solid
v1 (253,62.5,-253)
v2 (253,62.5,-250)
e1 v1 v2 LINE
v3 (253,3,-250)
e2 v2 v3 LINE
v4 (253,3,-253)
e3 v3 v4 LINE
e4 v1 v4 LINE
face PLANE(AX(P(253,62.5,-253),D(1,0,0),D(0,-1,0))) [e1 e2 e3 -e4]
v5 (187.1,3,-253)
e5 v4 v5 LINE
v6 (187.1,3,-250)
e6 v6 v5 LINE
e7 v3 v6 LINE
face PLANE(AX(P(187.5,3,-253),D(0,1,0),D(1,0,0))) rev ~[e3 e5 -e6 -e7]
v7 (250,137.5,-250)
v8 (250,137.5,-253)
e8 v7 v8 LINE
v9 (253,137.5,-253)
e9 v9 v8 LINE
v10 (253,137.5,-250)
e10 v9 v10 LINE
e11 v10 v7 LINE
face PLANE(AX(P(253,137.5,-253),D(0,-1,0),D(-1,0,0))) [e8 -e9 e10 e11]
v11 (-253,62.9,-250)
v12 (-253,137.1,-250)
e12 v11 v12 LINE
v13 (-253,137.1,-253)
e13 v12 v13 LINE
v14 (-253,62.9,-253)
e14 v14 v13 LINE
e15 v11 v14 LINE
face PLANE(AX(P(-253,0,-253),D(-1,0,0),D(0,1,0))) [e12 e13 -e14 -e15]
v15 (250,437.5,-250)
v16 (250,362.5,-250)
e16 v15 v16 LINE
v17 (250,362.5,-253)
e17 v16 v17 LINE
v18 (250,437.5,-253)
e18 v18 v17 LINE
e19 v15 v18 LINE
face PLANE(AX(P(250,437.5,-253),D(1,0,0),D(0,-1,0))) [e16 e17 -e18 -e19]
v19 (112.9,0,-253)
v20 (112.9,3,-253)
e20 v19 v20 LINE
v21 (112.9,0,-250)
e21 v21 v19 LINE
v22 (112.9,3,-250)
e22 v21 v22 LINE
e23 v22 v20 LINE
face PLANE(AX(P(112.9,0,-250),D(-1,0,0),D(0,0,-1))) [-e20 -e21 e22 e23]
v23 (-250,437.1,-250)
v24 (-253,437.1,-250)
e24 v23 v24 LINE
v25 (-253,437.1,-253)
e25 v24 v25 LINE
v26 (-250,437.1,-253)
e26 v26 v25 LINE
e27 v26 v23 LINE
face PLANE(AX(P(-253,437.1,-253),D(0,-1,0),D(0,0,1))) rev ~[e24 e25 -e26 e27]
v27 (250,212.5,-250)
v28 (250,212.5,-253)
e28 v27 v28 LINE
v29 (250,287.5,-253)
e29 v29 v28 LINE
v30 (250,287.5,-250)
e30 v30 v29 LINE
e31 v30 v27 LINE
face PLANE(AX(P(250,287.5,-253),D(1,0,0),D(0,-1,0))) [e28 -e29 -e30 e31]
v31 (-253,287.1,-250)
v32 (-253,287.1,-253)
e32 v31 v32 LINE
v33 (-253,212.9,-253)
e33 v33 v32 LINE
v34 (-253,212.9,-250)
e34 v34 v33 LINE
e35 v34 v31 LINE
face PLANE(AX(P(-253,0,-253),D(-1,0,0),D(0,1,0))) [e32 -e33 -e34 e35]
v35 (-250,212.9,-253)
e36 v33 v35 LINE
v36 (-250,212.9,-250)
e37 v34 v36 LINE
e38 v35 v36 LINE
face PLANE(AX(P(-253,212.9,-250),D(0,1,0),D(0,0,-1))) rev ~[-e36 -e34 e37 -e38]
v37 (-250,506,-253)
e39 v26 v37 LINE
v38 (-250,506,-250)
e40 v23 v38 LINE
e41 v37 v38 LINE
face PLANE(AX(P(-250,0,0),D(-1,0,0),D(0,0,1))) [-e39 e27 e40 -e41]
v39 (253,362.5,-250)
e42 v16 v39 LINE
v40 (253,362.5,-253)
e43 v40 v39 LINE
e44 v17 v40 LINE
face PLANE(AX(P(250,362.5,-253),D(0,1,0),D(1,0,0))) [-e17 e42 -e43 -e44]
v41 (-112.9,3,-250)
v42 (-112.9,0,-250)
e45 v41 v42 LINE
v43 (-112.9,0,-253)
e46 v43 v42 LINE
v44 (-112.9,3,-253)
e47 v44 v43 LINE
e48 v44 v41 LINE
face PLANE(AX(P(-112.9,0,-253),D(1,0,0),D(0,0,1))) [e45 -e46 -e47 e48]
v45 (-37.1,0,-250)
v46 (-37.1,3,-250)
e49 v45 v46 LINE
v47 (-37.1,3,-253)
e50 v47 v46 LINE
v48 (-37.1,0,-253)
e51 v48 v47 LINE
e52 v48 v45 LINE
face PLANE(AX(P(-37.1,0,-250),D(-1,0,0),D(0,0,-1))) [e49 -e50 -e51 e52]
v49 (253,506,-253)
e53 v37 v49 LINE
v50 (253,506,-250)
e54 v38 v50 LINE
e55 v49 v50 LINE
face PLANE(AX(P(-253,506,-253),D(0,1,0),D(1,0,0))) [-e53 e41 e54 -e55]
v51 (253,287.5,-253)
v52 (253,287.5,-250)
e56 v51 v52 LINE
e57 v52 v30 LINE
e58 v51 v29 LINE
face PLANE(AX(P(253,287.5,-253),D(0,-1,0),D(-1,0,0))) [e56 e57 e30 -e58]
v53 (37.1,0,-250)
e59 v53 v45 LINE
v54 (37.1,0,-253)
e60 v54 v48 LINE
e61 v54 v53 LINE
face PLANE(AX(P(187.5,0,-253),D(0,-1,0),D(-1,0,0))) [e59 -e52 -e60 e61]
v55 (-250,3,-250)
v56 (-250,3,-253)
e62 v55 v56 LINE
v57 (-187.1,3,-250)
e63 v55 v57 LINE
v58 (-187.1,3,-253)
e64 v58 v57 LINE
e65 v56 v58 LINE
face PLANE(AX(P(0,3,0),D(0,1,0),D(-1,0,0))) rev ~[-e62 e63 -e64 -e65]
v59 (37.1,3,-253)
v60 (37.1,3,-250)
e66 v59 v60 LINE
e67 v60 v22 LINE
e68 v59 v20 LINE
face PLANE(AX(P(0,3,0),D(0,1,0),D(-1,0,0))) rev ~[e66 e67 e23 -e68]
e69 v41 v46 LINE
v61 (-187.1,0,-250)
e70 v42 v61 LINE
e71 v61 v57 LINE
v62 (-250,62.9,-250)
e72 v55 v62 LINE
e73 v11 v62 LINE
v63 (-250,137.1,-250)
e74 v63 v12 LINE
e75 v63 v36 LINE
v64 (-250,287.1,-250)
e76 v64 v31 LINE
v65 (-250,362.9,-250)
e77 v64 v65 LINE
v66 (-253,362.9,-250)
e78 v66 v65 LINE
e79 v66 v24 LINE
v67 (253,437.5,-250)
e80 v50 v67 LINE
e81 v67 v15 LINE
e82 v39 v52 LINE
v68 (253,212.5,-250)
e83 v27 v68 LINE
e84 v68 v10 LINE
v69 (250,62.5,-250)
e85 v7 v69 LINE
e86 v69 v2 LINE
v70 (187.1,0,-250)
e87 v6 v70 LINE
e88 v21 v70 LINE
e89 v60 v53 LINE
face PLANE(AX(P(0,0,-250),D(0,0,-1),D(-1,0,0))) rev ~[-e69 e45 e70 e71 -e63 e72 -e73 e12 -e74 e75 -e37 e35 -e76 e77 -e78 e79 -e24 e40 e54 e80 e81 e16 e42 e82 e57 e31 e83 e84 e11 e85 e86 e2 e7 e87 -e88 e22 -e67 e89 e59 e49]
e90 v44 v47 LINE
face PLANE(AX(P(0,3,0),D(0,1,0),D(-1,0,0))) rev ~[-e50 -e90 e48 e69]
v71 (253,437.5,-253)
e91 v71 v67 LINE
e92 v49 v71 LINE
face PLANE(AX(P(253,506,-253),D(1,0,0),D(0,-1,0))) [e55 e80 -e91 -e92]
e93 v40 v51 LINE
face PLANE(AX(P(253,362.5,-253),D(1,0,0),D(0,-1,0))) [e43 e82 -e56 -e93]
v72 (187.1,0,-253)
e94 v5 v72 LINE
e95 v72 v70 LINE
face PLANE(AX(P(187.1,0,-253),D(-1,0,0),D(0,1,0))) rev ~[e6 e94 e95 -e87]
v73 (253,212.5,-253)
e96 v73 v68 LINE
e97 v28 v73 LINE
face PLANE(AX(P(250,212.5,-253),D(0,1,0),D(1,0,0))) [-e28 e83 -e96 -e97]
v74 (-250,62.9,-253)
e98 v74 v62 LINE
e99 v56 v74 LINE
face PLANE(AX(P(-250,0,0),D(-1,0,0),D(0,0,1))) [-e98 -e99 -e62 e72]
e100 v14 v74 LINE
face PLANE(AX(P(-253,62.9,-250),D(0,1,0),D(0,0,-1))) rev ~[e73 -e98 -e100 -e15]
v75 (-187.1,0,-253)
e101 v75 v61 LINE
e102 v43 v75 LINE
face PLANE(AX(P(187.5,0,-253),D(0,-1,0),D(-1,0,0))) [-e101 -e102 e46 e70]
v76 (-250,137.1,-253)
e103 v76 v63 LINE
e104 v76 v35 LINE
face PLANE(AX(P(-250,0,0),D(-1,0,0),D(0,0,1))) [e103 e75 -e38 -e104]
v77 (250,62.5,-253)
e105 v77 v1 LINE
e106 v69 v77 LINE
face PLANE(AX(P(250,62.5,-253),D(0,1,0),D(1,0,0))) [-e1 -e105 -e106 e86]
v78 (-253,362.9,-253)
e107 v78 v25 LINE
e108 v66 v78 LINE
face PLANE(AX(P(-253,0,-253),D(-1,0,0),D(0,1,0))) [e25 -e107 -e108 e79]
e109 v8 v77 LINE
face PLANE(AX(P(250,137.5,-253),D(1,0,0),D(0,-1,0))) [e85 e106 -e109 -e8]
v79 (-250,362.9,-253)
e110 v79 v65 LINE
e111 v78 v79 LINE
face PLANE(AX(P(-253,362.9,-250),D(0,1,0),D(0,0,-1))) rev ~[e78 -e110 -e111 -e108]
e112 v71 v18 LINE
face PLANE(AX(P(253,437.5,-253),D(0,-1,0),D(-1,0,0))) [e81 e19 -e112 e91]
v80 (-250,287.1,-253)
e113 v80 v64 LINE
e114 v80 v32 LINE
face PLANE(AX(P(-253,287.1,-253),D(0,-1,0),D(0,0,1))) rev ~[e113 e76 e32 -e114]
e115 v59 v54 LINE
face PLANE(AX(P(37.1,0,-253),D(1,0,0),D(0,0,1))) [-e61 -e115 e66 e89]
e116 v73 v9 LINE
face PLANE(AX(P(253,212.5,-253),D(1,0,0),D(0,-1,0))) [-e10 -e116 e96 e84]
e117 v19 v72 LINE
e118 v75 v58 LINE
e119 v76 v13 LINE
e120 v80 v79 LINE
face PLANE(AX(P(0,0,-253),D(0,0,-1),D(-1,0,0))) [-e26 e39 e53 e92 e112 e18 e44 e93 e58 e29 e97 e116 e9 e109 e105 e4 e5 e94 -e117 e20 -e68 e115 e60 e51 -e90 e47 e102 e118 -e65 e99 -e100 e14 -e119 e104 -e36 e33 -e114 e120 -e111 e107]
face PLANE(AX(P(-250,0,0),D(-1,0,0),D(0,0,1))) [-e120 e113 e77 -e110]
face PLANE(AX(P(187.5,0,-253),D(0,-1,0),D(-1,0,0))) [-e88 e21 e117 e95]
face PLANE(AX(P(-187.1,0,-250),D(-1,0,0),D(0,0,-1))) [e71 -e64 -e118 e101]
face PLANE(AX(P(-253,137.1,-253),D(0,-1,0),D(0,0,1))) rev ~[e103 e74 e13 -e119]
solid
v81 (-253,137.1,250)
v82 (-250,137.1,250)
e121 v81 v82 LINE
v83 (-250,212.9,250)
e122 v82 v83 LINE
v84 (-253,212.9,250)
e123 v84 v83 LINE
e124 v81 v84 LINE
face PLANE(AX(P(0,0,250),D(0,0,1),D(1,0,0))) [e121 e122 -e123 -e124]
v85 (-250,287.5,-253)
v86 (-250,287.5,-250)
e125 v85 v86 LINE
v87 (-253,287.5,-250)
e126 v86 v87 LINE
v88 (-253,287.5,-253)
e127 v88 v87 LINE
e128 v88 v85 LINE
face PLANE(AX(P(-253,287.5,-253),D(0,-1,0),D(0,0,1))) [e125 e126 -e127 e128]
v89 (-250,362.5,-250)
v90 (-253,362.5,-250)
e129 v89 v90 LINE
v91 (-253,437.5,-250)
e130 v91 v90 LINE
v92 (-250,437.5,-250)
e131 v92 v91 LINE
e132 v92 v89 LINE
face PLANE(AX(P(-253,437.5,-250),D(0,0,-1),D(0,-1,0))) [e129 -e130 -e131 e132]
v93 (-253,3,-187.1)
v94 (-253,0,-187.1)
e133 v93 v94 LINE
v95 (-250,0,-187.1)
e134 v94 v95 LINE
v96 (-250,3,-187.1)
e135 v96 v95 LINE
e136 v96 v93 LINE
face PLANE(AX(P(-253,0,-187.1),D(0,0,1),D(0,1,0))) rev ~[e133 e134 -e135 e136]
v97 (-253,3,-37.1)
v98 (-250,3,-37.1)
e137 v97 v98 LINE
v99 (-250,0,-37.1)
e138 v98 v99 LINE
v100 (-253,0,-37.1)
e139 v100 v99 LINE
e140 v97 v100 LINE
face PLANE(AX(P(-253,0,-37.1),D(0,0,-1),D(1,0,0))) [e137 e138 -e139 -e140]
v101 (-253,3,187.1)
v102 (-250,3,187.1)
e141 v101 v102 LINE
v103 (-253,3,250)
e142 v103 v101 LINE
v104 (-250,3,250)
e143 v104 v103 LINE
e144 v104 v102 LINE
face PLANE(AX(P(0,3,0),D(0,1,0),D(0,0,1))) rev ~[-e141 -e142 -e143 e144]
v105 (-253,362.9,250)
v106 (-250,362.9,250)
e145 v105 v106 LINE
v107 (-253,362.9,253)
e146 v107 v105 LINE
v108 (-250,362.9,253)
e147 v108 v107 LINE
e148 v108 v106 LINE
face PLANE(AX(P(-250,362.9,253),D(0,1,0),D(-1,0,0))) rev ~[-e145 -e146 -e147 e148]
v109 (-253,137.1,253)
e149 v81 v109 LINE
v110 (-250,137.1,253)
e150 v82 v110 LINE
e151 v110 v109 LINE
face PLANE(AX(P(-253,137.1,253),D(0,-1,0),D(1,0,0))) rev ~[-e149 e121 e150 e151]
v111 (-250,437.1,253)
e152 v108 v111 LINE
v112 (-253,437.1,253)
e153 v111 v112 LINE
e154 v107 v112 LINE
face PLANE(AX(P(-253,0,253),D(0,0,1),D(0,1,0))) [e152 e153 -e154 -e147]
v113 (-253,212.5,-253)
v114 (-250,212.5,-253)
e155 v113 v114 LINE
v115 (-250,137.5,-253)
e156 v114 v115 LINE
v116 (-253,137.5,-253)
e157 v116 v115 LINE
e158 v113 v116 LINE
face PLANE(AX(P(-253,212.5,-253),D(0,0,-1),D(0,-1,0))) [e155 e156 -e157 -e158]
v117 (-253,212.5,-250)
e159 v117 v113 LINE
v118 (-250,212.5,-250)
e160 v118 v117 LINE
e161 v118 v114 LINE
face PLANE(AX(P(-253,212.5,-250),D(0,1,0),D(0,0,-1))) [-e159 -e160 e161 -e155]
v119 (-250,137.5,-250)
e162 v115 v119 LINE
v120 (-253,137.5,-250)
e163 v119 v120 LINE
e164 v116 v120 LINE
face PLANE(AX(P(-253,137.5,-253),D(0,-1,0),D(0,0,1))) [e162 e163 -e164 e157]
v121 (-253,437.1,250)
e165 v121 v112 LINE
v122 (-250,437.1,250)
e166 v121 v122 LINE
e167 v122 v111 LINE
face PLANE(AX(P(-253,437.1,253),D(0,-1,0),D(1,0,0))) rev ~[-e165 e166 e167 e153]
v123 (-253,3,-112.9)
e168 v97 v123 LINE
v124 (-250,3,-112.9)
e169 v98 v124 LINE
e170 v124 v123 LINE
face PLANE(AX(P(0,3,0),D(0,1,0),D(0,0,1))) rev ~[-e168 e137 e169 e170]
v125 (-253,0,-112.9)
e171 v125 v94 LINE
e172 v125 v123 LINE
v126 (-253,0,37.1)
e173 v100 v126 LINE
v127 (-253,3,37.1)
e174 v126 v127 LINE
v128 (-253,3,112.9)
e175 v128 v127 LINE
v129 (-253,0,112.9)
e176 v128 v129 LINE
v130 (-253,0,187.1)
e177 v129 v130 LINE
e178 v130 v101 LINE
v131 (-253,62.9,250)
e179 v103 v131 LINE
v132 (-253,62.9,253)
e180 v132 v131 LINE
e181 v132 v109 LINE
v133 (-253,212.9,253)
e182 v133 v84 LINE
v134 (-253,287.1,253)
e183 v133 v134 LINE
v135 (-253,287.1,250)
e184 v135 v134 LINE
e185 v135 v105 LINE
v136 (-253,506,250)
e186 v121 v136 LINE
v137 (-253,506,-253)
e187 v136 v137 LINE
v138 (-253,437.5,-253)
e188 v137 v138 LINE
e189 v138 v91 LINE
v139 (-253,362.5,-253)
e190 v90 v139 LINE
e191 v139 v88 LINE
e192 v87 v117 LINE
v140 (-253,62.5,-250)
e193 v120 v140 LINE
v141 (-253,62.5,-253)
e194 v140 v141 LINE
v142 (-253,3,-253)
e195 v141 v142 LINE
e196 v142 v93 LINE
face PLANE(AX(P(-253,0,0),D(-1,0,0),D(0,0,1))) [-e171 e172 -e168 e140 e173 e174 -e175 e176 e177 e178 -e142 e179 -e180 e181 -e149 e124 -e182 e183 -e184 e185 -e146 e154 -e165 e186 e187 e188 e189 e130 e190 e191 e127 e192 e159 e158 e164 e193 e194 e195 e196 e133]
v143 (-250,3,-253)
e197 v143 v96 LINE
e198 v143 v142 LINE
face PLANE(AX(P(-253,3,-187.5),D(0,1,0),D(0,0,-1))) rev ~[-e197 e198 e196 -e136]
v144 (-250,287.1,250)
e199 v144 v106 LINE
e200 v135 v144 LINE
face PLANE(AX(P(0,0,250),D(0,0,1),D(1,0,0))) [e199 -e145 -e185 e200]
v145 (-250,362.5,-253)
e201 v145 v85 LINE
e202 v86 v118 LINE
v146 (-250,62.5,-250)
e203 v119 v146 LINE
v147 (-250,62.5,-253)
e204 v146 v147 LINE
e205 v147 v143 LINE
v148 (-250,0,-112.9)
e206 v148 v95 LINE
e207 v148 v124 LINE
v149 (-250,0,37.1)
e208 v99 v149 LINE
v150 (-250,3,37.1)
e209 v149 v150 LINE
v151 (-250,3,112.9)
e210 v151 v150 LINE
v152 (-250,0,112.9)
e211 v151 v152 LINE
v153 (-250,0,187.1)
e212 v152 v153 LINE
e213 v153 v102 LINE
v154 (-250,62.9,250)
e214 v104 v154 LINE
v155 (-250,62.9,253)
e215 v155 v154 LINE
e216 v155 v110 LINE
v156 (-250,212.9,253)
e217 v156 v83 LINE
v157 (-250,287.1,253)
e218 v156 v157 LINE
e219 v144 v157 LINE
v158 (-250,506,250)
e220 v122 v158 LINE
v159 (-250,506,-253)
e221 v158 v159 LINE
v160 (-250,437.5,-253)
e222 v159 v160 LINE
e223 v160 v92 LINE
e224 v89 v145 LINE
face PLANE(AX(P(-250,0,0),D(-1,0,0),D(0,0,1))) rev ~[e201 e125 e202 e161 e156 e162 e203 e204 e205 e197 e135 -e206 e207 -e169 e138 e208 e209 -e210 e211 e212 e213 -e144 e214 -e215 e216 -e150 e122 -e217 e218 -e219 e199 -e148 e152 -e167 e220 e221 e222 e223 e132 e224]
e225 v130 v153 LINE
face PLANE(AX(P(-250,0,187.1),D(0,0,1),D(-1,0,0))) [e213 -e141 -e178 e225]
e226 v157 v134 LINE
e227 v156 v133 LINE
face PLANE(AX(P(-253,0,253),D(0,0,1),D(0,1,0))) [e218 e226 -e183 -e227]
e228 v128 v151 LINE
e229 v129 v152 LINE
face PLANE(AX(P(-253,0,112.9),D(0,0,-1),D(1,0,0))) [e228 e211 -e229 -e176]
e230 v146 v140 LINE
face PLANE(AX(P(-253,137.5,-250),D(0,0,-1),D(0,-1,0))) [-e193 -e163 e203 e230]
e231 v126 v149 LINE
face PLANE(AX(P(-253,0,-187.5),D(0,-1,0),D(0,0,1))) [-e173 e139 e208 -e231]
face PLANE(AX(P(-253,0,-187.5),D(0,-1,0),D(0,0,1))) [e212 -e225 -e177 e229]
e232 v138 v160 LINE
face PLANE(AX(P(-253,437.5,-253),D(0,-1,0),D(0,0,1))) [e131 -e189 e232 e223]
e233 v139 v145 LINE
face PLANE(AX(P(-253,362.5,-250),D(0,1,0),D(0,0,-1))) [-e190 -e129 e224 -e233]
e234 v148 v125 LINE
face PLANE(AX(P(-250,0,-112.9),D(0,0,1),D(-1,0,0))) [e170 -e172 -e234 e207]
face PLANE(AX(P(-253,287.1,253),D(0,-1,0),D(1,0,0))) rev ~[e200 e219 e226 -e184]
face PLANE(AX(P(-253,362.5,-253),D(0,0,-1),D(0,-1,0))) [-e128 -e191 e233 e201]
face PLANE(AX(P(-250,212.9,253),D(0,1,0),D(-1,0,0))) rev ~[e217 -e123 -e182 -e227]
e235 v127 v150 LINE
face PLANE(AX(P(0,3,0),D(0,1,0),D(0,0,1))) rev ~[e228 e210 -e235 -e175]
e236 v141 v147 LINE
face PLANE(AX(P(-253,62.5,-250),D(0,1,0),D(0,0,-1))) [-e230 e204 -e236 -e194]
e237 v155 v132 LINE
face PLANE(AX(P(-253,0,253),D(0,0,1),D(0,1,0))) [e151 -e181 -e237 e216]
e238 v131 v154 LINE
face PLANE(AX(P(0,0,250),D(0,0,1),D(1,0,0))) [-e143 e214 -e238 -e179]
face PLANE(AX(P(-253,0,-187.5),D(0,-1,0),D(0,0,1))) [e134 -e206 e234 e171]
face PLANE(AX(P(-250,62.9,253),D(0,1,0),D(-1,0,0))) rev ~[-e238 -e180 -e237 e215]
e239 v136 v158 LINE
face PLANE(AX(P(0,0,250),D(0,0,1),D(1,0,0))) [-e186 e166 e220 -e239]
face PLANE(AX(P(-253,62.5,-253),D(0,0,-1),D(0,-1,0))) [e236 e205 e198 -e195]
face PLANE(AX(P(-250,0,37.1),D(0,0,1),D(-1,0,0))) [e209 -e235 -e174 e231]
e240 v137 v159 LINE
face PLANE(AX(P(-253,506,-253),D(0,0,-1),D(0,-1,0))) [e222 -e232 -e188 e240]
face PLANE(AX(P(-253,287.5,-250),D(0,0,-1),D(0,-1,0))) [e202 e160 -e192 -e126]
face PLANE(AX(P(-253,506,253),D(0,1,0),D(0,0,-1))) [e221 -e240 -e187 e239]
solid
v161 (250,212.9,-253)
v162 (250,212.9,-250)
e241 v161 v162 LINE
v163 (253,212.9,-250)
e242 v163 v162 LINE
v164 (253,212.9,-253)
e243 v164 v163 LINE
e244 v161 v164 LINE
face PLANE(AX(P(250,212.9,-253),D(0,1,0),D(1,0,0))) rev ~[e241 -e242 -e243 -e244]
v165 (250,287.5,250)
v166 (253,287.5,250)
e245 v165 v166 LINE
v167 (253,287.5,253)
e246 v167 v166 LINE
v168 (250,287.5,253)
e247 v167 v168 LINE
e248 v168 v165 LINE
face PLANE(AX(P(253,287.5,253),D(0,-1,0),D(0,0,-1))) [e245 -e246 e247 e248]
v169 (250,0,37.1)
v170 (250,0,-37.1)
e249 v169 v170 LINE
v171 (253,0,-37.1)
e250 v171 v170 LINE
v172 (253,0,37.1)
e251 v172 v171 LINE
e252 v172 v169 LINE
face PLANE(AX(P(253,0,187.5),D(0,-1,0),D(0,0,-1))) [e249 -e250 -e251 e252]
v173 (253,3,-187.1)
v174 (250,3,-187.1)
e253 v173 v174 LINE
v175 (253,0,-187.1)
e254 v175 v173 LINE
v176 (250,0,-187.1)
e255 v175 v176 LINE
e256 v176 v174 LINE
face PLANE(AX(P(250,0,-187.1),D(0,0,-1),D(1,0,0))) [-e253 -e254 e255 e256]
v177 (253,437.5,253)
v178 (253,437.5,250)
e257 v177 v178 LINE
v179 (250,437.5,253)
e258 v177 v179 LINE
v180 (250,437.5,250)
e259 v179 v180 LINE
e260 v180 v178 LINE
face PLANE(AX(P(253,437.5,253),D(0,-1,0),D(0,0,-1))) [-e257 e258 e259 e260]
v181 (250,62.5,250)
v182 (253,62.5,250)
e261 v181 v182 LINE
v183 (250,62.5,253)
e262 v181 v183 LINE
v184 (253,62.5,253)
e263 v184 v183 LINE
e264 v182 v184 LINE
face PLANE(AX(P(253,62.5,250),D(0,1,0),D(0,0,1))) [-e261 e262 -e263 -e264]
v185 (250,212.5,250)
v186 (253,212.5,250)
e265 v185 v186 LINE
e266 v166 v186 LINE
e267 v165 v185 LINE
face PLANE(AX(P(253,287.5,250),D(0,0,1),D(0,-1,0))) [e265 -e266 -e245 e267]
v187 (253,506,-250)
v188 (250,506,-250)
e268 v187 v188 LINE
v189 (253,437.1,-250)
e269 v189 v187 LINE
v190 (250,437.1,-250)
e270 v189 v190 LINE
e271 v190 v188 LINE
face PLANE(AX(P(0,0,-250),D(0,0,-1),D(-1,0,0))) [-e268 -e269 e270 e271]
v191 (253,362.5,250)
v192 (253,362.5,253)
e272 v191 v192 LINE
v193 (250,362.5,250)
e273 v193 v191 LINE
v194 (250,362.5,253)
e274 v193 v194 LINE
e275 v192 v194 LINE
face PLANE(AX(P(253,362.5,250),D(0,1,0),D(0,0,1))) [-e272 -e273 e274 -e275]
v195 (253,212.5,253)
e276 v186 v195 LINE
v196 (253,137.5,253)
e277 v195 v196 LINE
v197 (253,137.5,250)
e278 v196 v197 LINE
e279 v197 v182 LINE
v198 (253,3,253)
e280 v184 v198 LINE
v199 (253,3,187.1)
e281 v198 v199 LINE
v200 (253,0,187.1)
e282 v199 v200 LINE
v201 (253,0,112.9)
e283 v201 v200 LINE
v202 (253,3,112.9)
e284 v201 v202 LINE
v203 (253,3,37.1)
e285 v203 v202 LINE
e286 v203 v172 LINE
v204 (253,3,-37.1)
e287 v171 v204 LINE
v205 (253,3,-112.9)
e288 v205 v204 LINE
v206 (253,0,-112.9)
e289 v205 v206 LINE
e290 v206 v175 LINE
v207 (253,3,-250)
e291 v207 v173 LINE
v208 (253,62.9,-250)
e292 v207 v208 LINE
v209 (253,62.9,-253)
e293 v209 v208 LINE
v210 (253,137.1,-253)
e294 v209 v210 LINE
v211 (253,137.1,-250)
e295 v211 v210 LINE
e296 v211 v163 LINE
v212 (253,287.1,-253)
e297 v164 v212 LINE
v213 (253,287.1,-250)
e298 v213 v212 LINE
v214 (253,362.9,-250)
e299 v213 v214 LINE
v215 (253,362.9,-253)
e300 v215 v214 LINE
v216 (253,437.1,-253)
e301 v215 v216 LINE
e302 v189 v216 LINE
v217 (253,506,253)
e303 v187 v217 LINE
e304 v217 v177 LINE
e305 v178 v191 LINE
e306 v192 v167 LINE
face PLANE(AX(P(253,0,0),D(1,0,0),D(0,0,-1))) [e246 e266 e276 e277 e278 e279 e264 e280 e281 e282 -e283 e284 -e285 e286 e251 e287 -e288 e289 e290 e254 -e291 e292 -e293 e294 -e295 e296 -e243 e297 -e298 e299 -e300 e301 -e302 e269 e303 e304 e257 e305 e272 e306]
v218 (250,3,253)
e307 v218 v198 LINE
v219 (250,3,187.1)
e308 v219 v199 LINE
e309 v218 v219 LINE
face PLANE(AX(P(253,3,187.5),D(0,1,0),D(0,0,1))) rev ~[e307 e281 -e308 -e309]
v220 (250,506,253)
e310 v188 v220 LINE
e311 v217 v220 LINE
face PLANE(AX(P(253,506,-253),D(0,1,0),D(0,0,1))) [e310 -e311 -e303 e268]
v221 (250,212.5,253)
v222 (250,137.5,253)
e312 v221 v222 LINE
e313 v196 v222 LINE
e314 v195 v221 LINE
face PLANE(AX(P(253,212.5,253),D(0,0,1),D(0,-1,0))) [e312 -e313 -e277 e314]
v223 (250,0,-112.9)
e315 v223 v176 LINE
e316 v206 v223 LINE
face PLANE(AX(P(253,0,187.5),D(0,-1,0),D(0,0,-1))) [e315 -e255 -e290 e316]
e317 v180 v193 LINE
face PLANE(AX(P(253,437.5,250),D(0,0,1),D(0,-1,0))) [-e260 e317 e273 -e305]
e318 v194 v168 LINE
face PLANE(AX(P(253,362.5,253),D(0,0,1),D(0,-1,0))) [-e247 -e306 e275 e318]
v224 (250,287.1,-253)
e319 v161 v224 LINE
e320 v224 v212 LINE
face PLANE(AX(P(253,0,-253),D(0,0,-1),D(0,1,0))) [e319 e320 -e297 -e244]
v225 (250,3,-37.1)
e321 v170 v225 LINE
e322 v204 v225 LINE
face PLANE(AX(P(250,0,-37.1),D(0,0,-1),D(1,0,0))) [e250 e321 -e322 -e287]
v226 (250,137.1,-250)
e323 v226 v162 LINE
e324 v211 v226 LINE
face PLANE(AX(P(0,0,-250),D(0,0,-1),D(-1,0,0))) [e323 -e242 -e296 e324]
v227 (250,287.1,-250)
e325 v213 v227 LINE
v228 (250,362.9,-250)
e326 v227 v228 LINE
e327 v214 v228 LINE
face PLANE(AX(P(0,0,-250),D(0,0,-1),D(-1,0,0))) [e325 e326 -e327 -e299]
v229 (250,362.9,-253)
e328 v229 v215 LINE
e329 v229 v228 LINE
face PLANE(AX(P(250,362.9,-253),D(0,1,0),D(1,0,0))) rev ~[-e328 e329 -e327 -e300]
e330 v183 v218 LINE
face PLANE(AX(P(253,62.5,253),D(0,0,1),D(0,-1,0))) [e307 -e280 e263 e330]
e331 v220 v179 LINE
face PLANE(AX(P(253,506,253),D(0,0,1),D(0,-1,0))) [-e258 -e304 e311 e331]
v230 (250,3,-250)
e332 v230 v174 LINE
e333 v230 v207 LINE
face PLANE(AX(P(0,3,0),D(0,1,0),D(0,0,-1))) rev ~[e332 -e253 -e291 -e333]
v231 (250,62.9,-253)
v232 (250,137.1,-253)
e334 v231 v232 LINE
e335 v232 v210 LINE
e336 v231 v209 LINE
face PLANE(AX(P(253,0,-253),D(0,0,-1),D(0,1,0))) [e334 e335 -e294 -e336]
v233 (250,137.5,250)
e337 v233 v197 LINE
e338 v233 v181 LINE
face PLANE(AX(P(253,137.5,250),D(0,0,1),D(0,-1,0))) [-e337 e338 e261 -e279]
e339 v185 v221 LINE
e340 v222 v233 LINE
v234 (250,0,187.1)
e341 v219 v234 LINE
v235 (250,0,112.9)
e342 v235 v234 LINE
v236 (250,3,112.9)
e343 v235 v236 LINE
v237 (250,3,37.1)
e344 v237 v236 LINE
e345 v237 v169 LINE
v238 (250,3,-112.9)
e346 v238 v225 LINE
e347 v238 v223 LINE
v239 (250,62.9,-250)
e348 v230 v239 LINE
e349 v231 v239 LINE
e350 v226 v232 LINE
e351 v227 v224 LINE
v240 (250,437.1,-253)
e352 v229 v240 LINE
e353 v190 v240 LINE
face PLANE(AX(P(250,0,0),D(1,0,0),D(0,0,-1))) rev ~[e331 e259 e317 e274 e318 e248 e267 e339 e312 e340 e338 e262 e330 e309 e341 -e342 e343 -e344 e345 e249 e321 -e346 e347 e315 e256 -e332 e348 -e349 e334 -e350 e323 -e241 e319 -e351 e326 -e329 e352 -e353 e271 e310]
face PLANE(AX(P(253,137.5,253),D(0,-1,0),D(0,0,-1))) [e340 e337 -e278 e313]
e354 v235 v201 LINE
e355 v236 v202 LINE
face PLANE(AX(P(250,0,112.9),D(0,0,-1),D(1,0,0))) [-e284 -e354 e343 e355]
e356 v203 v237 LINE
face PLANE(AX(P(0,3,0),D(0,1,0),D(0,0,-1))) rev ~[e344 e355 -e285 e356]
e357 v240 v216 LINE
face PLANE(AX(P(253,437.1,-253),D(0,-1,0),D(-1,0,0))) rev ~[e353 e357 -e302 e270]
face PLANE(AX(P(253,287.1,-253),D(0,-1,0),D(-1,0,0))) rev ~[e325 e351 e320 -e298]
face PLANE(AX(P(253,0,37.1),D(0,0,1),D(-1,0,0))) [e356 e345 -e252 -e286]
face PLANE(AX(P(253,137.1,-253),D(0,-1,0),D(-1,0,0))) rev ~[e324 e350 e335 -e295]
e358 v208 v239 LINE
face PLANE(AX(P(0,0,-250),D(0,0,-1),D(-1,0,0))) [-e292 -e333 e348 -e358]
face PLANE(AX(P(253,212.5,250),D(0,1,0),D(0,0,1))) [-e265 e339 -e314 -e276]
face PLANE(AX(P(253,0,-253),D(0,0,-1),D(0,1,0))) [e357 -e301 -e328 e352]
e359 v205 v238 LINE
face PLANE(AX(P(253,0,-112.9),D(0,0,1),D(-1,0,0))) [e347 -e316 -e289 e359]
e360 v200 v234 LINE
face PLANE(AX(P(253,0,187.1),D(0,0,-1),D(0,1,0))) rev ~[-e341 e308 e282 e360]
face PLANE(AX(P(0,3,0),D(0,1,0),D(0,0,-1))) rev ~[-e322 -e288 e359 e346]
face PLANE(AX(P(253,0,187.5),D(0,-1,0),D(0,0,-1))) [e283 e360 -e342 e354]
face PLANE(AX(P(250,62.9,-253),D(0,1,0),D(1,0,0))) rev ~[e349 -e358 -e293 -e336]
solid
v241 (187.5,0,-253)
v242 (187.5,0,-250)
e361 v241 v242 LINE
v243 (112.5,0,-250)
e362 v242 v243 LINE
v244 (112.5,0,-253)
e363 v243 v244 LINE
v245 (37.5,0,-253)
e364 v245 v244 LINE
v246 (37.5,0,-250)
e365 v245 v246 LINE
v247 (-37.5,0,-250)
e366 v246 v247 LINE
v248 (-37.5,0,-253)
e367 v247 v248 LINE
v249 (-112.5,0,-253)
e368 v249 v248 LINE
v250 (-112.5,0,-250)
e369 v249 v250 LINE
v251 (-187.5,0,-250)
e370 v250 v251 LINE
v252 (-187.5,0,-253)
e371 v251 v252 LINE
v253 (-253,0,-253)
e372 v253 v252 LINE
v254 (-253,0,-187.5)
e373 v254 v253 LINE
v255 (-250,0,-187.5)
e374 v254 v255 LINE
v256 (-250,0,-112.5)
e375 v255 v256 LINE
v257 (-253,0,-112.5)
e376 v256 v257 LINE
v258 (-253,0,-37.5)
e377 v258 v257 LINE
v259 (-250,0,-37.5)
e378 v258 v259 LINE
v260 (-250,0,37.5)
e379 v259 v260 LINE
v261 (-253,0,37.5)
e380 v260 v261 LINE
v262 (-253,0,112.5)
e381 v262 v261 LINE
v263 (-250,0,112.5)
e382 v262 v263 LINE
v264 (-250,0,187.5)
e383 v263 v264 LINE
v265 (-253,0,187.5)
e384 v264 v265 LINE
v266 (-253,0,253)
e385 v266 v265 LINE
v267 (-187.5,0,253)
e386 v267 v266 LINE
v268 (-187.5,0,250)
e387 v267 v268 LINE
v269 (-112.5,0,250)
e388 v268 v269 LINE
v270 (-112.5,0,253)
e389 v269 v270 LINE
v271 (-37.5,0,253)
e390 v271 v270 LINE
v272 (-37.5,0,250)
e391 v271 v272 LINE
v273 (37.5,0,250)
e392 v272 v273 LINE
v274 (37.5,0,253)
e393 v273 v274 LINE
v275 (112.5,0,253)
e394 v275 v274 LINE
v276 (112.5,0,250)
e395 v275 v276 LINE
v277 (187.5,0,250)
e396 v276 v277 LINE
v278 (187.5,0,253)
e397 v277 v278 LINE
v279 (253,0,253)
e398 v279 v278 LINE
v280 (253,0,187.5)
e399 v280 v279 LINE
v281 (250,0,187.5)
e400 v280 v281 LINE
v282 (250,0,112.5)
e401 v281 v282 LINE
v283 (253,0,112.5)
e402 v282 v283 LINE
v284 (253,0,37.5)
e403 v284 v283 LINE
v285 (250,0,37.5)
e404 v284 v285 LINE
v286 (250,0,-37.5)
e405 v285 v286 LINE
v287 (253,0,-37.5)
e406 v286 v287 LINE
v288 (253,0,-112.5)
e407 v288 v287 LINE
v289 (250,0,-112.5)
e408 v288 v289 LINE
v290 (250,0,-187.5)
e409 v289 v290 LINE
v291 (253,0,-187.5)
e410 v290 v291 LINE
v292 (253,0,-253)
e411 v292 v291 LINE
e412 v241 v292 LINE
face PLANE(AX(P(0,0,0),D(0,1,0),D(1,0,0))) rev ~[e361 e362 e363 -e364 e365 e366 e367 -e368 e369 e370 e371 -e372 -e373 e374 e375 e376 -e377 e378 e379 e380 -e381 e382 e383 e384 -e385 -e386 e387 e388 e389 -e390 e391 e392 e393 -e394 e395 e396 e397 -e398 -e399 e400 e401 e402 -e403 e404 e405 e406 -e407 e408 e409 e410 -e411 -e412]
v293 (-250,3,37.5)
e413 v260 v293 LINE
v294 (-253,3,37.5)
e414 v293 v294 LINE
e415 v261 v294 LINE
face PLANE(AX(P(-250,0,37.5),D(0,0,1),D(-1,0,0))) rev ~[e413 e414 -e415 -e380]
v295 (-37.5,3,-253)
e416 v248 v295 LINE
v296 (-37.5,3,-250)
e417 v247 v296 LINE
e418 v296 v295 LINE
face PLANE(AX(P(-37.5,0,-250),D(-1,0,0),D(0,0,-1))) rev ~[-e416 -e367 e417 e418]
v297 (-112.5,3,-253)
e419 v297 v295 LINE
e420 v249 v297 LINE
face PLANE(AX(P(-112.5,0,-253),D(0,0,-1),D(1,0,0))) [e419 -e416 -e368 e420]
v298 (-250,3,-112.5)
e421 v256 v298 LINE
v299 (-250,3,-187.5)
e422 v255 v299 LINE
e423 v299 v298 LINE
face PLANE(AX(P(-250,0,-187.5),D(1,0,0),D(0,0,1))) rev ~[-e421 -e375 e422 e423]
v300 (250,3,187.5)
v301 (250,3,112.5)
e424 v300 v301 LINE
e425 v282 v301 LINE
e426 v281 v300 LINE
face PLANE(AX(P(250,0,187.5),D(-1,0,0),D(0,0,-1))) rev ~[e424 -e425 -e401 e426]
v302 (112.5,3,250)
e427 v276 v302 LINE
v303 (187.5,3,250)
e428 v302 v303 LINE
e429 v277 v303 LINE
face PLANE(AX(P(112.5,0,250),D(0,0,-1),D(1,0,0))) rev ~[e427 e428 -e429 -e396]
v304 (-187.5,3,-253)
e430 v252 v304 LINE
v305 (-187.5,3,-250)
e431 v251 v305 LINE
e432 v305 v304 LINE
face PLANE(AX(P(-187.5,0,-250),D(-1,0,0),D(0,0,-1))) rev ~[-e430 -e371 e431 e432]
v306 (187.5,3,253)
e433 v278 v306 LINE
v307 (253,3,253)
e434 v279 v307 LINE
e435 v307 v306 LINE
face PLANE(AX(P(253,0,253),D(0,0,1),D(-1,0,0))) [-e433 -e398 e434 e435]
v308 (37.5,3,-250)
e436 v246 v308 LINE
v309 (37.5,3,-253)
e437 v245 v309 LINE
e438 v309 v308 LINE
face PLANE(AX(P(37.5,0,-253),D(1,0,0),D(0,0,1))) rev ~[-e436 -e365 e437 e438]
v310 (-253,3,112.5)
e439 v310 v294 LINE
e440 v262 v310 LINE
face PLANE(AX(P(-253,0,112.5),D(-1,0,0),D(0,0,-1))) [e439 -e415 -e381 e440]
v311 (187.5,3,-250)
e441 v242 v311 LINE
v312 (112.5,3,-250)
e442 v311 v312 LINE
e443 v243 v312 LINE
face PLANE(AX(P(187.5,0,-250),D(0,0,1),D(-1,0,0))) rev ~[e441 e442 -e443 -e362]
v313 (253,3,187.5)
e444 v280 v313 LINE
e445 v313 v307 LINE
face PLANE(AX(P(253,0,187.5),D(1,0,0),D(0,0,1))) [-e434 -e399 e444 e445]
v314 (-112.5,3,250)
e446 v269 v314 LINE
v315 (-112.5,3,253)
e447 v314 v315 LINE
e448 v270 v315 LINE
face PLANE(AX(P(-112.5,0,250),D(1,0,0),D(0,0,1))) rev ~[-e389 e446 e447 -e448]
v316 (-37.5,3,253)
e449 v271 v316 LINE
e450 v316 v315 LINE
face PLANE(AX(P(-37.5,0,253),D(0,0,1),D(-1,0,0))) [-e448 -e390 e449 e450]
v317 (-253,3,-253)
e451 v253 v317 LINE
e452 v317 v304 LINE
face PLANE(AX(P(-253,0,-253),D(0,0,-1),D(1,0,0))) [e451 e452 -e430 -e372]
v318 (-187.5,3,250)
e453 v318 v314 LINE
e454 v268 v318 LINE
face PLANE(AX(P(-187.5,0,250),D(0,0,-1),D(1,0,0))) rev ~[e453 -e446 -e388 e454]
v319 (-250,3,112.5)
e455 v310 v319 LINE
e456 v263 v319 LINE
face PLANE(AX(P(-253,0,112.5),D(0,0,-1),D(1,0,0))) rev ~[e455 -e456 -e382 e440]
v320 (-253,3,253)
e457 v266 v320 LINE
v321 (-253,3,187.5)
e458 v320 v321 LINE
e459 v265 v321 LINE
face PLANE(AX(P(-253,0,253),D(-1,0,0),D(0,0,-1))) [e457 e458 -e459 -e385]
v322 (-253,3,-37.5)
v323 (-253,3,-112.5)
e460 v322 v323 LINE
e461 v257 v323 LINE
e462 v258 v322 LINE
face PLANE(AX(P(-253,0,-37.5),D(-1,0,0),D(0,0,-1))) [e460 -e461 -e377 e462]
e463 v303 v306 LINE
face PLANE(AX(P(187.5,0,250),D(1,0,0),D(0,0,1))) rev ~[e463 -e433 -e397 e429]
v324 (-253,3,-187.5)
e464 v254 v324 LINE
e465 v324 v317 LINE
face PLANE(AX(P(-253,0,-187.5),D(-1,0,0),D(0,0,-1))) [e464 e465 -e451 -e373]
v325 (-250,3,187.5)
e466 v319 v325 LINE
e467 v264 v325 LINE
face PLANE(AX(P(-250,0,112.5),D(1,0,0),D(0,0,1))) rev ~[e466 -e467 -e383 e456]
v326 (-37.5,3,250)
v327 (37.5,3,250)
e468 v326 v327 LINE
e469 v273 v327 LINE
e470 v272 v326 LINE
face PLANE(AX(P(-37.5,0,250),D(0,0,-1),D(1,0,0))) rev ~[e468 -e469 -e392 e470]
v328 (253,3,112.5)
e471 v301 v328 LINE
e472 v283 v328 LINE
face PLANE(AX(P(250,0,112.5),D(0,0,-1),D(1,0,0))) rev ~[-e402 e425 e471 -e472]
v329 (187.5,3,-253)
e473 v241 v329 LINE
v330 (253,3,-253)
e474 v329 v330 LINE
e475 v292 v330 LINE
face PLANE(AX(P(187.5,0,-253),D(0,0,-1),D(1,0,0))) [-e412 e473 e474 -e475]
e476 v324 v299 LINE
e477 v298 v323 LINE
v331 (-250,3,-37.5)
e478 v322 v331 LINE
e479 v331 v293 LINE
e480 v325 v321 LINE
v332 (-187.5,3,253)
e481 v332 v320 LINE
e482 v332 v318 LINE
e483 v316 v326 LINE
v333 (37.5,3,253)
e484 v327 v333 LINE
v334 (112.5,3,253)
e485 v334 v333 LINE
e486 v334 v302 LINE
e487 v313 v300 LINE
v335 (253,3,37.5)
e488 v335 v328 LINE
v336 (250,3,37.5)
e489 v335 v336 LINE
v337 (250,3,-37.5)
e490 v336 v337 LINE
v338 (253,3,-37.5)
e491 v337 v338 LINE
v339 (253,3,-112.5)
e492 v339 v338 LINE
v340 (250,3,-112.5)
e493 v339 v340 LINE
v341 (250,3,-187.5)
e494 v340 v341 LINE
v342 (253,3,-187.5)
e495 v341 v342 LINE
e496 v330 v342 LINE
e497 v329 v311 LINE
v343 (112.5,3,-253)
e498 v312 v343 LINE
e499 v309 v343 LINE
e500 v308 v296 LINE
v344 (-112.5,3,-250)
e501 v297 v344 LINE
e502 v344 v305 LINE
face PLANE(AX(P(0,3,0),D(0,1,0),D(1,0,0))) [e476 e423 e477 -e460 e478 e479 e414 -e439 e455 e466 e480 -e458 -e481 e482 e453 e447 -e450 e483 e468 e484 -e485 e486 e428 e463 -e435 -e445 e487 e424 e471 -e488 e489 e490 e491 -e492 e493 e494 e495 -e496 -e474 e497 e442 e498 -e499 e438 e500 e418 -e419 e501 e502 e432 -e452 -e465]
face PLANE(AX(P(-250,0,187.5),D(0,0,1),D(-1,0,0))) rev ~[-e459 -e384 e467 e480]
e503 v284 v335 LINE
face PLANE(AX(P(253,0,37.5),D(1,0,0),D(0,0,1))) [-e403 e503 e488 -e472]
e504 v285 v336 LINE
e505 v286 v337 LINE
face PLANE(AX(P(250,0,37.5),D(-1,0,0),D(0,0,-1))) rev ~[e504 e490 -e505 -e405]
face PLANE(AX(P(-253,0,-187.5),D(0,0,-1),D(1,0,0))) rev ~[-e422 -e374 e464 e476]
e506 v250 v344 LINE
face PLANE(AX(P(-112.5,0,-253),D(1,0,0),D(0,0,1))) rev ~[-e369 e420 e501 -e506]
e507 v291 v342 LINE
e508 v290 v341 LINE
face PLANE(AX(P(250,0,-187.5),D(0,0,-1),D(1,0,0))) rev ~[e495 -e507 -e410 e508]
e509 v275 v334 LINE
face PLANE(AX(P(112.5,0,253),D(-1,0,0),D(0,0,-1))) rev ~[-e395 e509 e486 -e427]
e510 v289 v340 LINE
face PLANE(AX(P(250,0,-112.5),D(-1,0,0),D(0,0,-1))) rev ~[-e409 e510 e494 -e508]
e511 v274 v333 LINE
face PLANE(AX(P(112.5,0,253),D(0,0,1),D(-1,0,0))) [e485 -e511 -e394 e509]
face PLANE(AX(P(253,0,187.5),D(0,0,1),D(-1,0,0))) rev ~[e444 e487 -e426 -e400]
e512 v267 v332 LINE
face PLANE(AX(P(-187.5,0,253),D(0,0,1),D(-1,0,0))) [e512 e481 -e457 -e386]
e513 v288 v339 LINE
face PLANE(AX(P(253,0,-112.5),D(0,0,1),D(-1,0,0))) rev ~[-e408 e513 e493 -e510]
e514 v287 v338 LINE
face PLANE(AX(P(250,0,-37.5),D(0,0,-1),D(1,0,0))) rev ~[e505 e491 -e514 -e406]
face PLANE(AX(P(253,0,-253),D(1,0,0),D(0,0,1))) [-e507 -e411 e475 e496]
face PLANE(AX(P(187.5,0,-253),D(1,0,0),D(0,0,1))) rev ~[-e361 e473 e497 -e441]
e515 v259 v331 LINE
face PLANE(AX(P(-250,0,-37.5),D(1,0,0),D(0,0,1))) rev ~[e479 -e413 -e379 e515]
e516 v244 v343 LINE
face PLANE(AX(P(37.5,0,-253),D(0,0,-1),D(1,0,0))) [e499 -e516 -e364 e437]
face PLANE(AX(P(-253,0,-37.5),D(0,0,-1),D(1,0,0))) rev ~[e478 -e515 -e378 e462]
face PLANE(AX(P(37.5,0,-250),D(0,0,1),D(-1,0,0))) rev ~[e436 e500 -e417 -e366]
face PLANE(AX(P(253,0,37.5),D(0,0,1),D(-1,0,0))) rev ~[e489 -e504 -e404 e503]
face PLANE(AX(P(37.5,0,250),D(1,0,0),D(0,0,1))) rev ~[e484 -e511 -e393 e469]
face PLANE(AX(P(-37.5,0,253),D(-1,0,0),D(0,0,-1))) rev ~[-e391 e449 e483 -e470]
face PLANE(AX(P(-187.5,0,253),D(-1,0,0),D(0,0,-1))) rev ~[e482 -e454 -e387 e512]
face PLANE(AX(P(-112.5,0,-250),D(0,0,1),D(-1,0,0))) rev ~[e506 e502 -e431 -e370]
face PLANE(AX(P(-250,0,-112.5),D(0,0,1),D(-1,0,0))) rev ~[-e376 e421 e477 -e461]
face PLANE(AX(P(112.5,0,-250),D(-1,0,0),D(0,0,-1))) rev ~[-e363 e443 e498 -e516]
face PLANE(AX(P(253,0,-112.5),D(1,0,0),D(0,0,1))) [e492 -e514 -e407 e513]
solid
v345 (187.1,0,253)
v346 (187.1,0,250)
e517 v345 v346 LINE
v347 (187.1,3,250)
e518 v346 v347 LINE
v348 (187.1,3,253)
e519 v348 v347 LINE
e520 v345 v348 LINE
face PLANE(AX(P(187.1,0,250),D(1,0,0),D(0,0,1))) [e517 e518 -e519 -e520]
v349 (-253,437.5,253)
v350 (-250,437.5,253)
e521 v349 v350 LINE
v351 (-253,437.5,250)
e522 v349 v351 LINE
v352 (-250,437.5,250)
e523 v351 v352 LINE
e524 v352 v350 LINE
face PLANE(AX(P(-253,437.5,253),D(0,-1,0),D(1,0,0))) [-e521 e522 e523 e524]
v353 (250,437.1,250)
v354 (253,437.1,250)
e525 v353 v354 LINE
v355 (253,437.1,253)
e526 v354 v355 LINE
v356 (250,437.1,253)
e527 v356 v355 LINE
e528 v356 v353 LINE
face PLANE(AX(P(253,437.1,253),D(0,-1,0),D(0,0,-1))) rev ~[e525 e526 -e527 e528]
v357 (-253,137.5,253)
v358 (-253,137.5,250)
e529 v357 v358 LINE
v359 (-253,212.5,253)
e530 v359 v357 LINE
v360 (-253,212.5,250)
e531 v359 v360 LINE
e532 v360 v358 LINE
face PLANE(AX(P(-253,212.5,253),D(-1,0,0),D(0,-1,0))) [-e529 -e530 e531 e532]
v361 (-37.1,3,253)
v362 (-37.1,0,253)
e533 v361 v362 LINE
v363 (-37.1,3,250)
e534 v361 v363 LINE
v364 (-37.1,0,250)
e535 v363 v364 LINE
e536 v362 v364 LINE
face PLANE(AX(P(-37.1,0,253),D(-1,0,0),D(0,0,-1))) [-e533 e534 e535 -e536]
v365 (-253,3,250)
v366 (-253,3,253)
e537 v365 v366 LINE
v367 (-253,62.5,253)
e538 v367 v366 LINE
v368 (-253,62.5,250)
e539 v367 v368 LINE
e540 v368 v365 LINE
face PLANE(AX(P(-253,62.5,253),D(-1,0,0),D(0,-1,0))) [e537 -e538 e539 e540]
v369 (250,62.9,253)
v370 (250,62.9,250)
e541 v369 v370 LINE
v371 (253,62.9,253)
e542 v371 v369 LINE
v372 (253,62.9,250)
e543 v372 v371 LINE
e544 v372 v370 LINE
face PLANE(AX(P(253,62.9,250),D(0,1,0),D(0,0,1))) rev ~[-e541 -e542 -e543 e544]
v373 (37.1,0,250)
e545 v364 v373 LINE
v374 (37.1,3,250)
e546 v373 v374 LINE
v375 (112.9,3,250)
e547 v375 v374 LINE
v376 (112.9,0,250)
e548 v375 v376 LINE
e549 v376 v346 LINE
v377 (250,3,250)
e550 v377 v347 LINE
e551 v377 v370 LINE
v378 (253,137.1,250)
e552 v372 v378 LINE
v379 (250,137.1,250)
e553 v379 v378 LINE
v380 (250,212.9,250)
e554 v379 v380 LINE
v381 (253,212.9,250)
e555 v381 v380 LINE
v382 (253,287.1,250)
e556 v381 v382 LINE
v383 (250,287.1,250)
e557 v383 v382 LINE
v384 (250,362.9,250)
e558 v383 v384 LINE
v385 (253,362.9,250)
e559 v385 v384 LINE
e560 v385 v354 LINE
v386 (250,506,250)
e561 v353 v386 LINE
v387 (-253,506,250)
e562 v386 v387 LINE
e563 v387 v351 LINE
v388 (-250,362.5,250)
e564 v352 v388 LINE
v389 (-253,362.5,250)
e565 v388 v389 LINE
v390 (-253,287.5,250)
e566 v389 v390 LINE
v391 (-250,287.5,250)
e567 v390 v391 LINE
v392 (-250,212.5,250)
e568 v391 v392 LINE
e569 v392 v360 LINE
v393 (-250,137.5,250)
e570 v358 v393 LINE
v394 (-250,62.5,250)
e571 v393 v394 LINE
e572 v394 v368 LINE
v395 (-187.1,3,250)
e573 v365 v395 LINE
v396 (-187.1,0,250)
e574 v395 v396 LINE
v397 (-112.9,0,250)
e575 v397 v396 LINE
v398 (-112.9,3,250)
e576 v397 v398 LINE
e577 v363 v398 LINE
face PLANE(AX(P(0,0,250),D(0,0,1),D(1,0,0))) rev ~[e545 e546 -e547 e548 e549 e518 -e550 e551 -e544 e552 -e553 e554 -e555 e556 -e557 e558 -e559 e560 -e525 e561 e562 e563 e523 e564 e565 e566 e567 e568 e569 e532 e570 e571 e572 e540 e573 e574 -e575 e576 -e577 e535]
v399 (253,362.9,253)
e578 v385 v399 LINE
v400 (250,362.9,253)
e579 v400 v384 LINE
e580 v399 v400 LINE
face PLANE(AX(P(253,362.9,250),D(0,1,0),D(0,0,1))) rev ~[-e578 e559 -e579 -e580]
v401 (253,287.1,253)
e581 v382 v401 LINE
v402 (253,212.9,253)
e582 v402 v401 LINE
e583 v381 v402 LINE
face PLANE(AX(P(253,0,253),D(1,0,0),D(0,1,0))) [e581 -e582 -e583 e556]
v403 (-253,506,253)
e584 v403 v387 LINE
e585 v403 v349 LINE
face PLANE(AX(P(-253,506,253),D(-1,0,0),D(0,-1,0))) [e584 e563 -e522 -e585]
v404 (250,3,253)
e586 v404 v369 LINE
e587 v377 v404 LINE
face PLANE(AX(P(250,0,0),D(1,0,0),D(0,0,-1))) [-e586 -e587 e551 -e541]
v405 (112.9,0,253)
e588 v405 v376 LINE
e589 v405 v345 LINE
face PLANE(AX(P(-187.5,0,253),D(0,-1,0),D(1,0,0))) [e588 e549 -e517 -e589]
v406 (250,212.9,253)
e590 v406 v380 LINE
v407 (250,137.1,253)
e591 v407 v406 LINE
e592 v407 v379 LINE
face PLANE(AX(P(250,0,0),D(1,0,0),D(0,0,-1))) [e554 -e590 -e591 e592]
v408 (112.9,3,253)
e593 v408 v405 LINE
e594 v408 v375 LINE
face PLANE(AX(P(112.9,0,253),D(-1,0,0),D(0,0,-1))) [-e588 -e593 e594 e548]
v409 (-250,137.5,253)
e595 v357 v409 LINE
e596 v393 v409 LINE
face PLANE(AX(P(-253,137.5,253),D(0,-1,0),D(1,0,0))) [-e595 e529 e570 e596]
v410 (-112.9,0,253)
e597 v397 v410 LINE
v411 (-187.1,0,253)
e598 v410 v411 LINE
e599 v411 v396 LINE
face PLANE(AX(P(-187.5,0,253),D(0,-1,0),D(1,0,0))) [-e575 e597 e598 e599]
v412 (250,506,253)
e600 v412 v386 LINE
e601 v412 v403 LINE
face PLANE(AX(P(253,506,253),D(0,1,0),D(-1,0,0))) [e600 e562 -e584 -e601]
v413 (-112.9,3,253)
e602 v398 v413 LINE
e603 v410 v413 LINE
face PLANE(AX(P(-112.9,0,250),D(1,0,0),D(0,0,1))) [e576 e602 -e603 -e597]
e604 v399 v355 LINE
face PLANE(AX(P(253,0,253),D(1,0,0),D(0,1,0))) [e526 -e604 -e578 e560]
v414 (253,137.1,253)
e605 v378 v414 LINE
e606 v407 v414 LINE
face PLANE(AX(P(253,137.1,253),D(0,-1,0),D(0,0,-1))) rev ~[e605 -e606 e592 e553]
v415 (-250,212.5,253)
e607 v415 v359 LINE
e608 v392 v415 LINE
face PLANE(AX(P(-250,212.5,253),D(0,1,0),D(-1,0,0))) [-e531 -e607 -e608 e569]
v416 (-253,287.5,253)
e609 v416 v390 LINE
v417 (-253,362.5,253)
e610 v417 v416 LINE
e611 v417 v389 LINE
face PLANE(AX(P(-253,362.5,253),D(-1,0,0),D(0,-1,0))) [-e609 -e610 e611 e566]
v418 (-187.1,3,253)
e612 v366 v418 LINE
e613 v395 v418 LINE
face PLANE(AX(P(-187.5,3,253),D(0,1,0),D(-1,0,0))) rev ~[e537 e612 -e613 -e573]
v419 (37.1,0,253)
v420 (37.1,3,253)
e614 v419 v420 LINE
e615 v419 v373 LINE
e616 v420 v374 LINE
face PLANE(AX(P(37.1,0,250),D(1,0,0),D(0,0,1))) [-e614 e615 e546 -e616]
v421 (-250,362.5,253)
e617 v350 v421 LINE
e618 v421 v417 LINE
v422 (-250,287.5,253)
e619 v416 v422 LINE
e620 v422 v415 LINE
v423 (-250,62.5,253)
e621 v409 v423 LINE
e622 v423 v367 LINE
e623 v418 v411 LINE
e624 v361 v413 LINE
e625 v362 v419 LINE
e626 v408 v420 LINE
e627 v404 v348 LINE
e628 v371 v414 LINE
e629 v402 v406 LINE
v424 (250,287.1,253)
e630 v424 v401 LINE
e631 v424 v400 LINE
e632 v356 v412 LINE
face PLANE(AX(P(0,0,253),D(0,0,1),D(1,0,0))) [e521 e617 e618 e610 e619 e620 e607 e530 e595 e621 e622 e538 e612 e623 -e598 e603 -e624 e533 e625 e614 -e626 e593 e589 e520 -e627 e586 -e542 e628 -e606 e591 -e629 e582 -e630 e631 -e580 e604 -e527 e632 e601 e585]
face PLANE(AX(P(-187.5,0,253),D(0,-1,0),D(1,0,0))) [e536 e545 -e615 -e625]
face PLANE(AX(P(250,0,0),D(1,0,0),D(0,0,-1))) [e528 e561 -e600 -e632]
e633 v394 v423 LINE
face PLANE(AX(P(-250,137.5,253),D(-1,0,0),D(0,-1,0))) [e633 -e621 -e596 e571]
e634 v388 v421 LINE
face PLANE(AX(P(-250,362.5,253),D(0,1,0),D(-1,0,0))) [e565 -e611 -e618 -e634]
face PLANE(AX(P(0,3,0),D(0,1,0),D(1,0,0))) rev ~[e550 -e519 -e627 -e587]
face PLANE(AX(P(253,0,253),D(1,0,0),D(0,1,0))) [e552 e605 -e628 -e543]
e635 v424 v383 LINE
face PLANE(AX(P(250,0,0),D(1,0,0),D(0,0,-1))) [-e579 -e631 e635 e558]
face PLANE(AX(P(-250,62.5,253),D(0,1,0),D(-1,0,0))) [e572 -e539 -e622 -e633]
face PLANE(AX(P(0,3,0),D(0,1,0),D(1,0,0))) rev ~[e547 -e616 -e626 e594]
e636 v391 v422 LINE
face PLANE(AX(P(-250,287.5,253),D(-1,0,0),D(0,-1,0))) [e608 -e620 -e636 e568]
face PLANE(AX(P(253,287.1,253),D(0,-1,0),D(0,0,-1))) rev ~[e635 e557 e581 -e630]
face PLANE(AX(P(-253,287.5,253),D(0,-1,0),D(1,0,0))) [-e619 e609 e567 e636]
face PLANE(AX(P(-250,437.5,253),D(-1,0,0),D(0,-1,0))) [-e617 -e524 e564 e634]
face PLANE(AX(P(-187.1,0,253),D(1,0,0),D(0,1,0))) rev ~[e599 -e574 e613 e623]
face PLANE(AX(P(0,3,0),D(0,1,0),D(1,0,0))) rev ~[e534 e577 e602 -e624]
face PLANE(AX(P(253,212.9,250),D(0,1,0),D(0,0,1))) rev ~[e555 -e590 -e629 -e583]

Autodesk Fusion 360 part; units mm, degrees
sketch "Sketch7" plane through (0, 0, 0) normal (0, 1, 0) x (1, 0, 0)
  line L0 (253, -253) -> (-253, -253)
  line L1 (-253, -253) -> (-253, 253)
  line L2 (-253, 253) -> (253, 253)
  line L3 (253, 253) -> (253, -253)
  line L4 (253, -253) -> (-253, 253) construction
  line L5 (-253, -253) -> (253, 253) construction
  line L6 (250, 37.5) -> (253, 37.5)
  line L7 (253, 37.5) -> (253, -37.5)
  line L8 (253, -37.5) -> (250, -37.5)
  line L9 (250, -37.5) -> (250, 37.5)
  line L10 (-300, 0) -> (300, 0) construction
  line L11 (253, -112.5) -> (253, -187.5)
  line L12 (250, -112.5) -> (253, -112.5)
  line L13 (250, -187.5) -> (250, -112.5)
  line L14 (253, -187.5) -> (250, -187.5)
  line L15 (253, 187.5) -> (253, 112.5)
  line L16 (250, 187.5) -> (253, 187.5)
  line L17 (250, 112.5) -> (250, 187.5)
  line L18 (253, 112.5) -> (250, 112.5)
  line L19 (187.5, 253) -> (187.5, 250)
  line L20 (-112.5, 250) -> (-187.5, 250)
  line L21 (-187.5, 250) -> (-187.5, 253)
  line L22 (112.5, 253) -> (187.5, 253)
  line L23 (187.5, 250) -> (112.5, 250)
  line L24 (37.5, 250) -> (-37.5, 250)
  line L25 (-37.5, 250) -> (-37.5, 253)
  line L26 (-37.5, 253) -> (37.5, 253)
  line L27 (-112.5, 253) -> (-112.5, 250)
  line L28 (0, -300) -> (0, 300) construction
  line L29 (37.5, 253) -> (37.5, 250)
  line L30 (112.5, 250) -> (112.5, 253)
  line L31 (-187.5, 253) -> (-112.5, 253)
  line L32 (-253, 187.5) -> (-250, 187.5)
  line L33 (-250, -112.5) -> (-250, -187.5)
  line L34 (-250, -187.5) -> (-253, -187.5)
  line L35 (-253, 112.5) -> (-253, 187.5)
  line L36 (-250, 187.5) -> (-250, 112.5)
  line L37 (-250, 37.5) -> (-250, -37.5)
  line L38 (-250, -37.5) -> (-253, -37.5)
  line L39 (-253, -37.5) -> (-253, 37.5)
  line L40 (-253, -112.5) -> (-250, -112.5)
  line L41 (300, 0) -> (-300, 0) construction
  line L42 (-253, 37.5) -> (-250, 37.5)
  line L43 (-250, 112.5) -> (-253, 112.5)
  line L44 (-253, -187.5) -> (-253, -112.5)
  line L45 (-187.5, -253) -> (-187.5, -250)
  line L46 (112.5, -250) -> (187.5, -250)
  line L47 (187.5, -250) -> (187.5, -253)
  line L48 (-112.5, -253) -> (-187.5, -253)
  line L49 (-187.5, -250) -> (-112.5, -250)
  line L50 (-37.5, -250) -> (37.5, -250)
  line L51 (37.5, -250) -> (37.5, -253)
  line L52 (37.5, -253) -> (-37.5, -253)
  line L53 (112.5, -253) -> (112.5, -250)
  line L54 (0, 300) -> (0, -300) construction
  line L55 (-37.5, -253) -> (-37.5, -250)
  line L56 (-112.5, -250) -> (-112.5, -253)
  line L57 (187.5, -253) -> (112.5, -253)
  dimension "d15" = 506
  dimension "d16" = 506
  dimension "d17" = 3
  dimension "d18" = 75
  dimension "d21" = 0
  dimension "d22" = 150
  dimension "d24" = 360
extrude "Extrude7" add sketch "Sketch7" along normal blind 3 contours L0 L1 L2 L3 L6 L8 L9 L12 L13 L14 L16 L17 L18 L19 L20 L21 L23 L24 L25 L27 L29 L30 L32 L33 L34 L36 L37 L38 L40 L42 L43 L45 L46 L47 L49 L50 L51 L53 L55 L56 makes body 1
sketch "Sketch9" plane through (0, 0, 253) normal (0, 0, 1) x (1, 0, 0)
  line L0 (-253, 0) -> (-187.5, 0)
  line L1 (-187.5, 0) -> (-187.5, 3)
  line L2 (-187.5, 3) -> (-253, 3)
  line L3 (-253, 3) -> (-253, 0)
  line L4 (-253, 0) -> (253, 0)
  line L5 (253, 0) -> (253, 506)
  line L6 (253, 506) -> (-253, 506)
  line L7 (-253, 506) -> (-253, 0)
  line L8 (-253, 287.5) -> (-250, 287.5)
  line L9 (-250, 287.5) -> (-250, 212.5)
  line L10 (-250, 212.5) -> (-253, 212.5)
  line L11 (-253, 212.5) -> (-253, 287.5)
  line L12 (-500, 250) -> (500, 250) construction
  line L13 (-253, 62.5) -> (-253, 137.5)
  line L14 (-253, 137.5) -> (-250, 137.5)
  line L15 (-250, 137.5) -> (-250, 62.5)
  line L16 (-250, 62.5) -> (-253, 62.5)
  line L17 (-253, 362.5) -> (-253, 437.5)
  line L18 (-253, 437.5) -> (-250, 437.5)
  line L19 (-250, 437.5) -> (-250, 362.5)
  line L20 (-250, 362.5) -> (-253, 362.5)
  dimension "d27" = 506
  dimension "d28" = 506
  dimension "d29" = 3
  dimension "d30" = 75
  dimension "d33" = 0
  dimension "d34" = 150
extrude "Extrude8" add sketch "Sketch9" against normal blind 3 separate body contours L1 L2 L4 L5 L6 L7 L8 L9 L10 L14 L15 L16 L18 L19 L20 makes body 2
combine "Combine1" operation cut target body 2 tool bodies 1 keep tools
pattern_circular "C-Pattern1" count 2 over 90 about axis through (0, 1.75, 0) along (0, 1, 0) of bodies 2 makes body 3
combine "Combine2" operation cut target body 2 tool bodies 3
move_face "OffsetFaces1" offset -0.4 12 faces at (252, 437.5, 252) (252, 287.5, 252) (252, 137.5, 252) (252, 362.5, 251) (252, 212.5, 251) (252, 62.5, 251) (187.5, 1, 251) (37.5, 2, 251) (-112.5, 1, 251) (-187.5, 1, 252) (-37.5, 1, 252) (112.5, 1, 252) on bodies 2
pattern_circular "C-Pattern2" count 4 over 360 about axis through (0, 1.75, 0) along (0, 1, 0) of bodies 2 makes body 4 at (253, 192.5333, 12.3667) makes body 5 at (12.3667, 192.5333, -253) makes body 6 at (-253, 192.5333, -12.3667)
copy_body "Body->Comp1" bodies 1 removing the originals makes body 7 in component "Component"
copy_body "Body->Comp2" bodies 2 removing the originals makes body 8 in component "Component'"
copy_body "Body->Comp3" bodies 4 removing the originals makes body 9 in component "Component''"
copy_body "Body->Comp4" bodies 6 removing the originals makes body 10 in component "Component'''"
copy_body "Body->Comp5" bodies 5 removing the originals makes body 11 in component "Component''''"
component "Component" placed x (1, 0, 0) y (0, 1, 0) z (0, 0, 1) at (0, 0, 0)
component "Component'" placed x (1, 0, 0) y (0, 1, 0) z (0, 0, 1) at (0, 0, 0)
component "Component''" placed x (1, 0, 0) y (0, 1, 0) z (0, 0, 1) at (0, 0, 0)
component "Component'''" placed x (1, 0, 0) y (0, 1, 0) z (0, 0, 1) at (0, 0, 0)
component "Component''''" placed x (1, 0, 0) y (0, 1, 0) z (0, 0, 1) at (0, 0, 0)
equation "width = 500 mm"
equation "thick = 3 mm"
equation "d15 = width + thick * 2"
equation "d16 = width + thick * 2"
equation "d17 = thick"
equation "d27 = width + thick * 2"
equation "d28 = width + thick * 2"
equation "d29 = thick"
equation "offset = -0.4 mm"
equation "d40 = offset"
